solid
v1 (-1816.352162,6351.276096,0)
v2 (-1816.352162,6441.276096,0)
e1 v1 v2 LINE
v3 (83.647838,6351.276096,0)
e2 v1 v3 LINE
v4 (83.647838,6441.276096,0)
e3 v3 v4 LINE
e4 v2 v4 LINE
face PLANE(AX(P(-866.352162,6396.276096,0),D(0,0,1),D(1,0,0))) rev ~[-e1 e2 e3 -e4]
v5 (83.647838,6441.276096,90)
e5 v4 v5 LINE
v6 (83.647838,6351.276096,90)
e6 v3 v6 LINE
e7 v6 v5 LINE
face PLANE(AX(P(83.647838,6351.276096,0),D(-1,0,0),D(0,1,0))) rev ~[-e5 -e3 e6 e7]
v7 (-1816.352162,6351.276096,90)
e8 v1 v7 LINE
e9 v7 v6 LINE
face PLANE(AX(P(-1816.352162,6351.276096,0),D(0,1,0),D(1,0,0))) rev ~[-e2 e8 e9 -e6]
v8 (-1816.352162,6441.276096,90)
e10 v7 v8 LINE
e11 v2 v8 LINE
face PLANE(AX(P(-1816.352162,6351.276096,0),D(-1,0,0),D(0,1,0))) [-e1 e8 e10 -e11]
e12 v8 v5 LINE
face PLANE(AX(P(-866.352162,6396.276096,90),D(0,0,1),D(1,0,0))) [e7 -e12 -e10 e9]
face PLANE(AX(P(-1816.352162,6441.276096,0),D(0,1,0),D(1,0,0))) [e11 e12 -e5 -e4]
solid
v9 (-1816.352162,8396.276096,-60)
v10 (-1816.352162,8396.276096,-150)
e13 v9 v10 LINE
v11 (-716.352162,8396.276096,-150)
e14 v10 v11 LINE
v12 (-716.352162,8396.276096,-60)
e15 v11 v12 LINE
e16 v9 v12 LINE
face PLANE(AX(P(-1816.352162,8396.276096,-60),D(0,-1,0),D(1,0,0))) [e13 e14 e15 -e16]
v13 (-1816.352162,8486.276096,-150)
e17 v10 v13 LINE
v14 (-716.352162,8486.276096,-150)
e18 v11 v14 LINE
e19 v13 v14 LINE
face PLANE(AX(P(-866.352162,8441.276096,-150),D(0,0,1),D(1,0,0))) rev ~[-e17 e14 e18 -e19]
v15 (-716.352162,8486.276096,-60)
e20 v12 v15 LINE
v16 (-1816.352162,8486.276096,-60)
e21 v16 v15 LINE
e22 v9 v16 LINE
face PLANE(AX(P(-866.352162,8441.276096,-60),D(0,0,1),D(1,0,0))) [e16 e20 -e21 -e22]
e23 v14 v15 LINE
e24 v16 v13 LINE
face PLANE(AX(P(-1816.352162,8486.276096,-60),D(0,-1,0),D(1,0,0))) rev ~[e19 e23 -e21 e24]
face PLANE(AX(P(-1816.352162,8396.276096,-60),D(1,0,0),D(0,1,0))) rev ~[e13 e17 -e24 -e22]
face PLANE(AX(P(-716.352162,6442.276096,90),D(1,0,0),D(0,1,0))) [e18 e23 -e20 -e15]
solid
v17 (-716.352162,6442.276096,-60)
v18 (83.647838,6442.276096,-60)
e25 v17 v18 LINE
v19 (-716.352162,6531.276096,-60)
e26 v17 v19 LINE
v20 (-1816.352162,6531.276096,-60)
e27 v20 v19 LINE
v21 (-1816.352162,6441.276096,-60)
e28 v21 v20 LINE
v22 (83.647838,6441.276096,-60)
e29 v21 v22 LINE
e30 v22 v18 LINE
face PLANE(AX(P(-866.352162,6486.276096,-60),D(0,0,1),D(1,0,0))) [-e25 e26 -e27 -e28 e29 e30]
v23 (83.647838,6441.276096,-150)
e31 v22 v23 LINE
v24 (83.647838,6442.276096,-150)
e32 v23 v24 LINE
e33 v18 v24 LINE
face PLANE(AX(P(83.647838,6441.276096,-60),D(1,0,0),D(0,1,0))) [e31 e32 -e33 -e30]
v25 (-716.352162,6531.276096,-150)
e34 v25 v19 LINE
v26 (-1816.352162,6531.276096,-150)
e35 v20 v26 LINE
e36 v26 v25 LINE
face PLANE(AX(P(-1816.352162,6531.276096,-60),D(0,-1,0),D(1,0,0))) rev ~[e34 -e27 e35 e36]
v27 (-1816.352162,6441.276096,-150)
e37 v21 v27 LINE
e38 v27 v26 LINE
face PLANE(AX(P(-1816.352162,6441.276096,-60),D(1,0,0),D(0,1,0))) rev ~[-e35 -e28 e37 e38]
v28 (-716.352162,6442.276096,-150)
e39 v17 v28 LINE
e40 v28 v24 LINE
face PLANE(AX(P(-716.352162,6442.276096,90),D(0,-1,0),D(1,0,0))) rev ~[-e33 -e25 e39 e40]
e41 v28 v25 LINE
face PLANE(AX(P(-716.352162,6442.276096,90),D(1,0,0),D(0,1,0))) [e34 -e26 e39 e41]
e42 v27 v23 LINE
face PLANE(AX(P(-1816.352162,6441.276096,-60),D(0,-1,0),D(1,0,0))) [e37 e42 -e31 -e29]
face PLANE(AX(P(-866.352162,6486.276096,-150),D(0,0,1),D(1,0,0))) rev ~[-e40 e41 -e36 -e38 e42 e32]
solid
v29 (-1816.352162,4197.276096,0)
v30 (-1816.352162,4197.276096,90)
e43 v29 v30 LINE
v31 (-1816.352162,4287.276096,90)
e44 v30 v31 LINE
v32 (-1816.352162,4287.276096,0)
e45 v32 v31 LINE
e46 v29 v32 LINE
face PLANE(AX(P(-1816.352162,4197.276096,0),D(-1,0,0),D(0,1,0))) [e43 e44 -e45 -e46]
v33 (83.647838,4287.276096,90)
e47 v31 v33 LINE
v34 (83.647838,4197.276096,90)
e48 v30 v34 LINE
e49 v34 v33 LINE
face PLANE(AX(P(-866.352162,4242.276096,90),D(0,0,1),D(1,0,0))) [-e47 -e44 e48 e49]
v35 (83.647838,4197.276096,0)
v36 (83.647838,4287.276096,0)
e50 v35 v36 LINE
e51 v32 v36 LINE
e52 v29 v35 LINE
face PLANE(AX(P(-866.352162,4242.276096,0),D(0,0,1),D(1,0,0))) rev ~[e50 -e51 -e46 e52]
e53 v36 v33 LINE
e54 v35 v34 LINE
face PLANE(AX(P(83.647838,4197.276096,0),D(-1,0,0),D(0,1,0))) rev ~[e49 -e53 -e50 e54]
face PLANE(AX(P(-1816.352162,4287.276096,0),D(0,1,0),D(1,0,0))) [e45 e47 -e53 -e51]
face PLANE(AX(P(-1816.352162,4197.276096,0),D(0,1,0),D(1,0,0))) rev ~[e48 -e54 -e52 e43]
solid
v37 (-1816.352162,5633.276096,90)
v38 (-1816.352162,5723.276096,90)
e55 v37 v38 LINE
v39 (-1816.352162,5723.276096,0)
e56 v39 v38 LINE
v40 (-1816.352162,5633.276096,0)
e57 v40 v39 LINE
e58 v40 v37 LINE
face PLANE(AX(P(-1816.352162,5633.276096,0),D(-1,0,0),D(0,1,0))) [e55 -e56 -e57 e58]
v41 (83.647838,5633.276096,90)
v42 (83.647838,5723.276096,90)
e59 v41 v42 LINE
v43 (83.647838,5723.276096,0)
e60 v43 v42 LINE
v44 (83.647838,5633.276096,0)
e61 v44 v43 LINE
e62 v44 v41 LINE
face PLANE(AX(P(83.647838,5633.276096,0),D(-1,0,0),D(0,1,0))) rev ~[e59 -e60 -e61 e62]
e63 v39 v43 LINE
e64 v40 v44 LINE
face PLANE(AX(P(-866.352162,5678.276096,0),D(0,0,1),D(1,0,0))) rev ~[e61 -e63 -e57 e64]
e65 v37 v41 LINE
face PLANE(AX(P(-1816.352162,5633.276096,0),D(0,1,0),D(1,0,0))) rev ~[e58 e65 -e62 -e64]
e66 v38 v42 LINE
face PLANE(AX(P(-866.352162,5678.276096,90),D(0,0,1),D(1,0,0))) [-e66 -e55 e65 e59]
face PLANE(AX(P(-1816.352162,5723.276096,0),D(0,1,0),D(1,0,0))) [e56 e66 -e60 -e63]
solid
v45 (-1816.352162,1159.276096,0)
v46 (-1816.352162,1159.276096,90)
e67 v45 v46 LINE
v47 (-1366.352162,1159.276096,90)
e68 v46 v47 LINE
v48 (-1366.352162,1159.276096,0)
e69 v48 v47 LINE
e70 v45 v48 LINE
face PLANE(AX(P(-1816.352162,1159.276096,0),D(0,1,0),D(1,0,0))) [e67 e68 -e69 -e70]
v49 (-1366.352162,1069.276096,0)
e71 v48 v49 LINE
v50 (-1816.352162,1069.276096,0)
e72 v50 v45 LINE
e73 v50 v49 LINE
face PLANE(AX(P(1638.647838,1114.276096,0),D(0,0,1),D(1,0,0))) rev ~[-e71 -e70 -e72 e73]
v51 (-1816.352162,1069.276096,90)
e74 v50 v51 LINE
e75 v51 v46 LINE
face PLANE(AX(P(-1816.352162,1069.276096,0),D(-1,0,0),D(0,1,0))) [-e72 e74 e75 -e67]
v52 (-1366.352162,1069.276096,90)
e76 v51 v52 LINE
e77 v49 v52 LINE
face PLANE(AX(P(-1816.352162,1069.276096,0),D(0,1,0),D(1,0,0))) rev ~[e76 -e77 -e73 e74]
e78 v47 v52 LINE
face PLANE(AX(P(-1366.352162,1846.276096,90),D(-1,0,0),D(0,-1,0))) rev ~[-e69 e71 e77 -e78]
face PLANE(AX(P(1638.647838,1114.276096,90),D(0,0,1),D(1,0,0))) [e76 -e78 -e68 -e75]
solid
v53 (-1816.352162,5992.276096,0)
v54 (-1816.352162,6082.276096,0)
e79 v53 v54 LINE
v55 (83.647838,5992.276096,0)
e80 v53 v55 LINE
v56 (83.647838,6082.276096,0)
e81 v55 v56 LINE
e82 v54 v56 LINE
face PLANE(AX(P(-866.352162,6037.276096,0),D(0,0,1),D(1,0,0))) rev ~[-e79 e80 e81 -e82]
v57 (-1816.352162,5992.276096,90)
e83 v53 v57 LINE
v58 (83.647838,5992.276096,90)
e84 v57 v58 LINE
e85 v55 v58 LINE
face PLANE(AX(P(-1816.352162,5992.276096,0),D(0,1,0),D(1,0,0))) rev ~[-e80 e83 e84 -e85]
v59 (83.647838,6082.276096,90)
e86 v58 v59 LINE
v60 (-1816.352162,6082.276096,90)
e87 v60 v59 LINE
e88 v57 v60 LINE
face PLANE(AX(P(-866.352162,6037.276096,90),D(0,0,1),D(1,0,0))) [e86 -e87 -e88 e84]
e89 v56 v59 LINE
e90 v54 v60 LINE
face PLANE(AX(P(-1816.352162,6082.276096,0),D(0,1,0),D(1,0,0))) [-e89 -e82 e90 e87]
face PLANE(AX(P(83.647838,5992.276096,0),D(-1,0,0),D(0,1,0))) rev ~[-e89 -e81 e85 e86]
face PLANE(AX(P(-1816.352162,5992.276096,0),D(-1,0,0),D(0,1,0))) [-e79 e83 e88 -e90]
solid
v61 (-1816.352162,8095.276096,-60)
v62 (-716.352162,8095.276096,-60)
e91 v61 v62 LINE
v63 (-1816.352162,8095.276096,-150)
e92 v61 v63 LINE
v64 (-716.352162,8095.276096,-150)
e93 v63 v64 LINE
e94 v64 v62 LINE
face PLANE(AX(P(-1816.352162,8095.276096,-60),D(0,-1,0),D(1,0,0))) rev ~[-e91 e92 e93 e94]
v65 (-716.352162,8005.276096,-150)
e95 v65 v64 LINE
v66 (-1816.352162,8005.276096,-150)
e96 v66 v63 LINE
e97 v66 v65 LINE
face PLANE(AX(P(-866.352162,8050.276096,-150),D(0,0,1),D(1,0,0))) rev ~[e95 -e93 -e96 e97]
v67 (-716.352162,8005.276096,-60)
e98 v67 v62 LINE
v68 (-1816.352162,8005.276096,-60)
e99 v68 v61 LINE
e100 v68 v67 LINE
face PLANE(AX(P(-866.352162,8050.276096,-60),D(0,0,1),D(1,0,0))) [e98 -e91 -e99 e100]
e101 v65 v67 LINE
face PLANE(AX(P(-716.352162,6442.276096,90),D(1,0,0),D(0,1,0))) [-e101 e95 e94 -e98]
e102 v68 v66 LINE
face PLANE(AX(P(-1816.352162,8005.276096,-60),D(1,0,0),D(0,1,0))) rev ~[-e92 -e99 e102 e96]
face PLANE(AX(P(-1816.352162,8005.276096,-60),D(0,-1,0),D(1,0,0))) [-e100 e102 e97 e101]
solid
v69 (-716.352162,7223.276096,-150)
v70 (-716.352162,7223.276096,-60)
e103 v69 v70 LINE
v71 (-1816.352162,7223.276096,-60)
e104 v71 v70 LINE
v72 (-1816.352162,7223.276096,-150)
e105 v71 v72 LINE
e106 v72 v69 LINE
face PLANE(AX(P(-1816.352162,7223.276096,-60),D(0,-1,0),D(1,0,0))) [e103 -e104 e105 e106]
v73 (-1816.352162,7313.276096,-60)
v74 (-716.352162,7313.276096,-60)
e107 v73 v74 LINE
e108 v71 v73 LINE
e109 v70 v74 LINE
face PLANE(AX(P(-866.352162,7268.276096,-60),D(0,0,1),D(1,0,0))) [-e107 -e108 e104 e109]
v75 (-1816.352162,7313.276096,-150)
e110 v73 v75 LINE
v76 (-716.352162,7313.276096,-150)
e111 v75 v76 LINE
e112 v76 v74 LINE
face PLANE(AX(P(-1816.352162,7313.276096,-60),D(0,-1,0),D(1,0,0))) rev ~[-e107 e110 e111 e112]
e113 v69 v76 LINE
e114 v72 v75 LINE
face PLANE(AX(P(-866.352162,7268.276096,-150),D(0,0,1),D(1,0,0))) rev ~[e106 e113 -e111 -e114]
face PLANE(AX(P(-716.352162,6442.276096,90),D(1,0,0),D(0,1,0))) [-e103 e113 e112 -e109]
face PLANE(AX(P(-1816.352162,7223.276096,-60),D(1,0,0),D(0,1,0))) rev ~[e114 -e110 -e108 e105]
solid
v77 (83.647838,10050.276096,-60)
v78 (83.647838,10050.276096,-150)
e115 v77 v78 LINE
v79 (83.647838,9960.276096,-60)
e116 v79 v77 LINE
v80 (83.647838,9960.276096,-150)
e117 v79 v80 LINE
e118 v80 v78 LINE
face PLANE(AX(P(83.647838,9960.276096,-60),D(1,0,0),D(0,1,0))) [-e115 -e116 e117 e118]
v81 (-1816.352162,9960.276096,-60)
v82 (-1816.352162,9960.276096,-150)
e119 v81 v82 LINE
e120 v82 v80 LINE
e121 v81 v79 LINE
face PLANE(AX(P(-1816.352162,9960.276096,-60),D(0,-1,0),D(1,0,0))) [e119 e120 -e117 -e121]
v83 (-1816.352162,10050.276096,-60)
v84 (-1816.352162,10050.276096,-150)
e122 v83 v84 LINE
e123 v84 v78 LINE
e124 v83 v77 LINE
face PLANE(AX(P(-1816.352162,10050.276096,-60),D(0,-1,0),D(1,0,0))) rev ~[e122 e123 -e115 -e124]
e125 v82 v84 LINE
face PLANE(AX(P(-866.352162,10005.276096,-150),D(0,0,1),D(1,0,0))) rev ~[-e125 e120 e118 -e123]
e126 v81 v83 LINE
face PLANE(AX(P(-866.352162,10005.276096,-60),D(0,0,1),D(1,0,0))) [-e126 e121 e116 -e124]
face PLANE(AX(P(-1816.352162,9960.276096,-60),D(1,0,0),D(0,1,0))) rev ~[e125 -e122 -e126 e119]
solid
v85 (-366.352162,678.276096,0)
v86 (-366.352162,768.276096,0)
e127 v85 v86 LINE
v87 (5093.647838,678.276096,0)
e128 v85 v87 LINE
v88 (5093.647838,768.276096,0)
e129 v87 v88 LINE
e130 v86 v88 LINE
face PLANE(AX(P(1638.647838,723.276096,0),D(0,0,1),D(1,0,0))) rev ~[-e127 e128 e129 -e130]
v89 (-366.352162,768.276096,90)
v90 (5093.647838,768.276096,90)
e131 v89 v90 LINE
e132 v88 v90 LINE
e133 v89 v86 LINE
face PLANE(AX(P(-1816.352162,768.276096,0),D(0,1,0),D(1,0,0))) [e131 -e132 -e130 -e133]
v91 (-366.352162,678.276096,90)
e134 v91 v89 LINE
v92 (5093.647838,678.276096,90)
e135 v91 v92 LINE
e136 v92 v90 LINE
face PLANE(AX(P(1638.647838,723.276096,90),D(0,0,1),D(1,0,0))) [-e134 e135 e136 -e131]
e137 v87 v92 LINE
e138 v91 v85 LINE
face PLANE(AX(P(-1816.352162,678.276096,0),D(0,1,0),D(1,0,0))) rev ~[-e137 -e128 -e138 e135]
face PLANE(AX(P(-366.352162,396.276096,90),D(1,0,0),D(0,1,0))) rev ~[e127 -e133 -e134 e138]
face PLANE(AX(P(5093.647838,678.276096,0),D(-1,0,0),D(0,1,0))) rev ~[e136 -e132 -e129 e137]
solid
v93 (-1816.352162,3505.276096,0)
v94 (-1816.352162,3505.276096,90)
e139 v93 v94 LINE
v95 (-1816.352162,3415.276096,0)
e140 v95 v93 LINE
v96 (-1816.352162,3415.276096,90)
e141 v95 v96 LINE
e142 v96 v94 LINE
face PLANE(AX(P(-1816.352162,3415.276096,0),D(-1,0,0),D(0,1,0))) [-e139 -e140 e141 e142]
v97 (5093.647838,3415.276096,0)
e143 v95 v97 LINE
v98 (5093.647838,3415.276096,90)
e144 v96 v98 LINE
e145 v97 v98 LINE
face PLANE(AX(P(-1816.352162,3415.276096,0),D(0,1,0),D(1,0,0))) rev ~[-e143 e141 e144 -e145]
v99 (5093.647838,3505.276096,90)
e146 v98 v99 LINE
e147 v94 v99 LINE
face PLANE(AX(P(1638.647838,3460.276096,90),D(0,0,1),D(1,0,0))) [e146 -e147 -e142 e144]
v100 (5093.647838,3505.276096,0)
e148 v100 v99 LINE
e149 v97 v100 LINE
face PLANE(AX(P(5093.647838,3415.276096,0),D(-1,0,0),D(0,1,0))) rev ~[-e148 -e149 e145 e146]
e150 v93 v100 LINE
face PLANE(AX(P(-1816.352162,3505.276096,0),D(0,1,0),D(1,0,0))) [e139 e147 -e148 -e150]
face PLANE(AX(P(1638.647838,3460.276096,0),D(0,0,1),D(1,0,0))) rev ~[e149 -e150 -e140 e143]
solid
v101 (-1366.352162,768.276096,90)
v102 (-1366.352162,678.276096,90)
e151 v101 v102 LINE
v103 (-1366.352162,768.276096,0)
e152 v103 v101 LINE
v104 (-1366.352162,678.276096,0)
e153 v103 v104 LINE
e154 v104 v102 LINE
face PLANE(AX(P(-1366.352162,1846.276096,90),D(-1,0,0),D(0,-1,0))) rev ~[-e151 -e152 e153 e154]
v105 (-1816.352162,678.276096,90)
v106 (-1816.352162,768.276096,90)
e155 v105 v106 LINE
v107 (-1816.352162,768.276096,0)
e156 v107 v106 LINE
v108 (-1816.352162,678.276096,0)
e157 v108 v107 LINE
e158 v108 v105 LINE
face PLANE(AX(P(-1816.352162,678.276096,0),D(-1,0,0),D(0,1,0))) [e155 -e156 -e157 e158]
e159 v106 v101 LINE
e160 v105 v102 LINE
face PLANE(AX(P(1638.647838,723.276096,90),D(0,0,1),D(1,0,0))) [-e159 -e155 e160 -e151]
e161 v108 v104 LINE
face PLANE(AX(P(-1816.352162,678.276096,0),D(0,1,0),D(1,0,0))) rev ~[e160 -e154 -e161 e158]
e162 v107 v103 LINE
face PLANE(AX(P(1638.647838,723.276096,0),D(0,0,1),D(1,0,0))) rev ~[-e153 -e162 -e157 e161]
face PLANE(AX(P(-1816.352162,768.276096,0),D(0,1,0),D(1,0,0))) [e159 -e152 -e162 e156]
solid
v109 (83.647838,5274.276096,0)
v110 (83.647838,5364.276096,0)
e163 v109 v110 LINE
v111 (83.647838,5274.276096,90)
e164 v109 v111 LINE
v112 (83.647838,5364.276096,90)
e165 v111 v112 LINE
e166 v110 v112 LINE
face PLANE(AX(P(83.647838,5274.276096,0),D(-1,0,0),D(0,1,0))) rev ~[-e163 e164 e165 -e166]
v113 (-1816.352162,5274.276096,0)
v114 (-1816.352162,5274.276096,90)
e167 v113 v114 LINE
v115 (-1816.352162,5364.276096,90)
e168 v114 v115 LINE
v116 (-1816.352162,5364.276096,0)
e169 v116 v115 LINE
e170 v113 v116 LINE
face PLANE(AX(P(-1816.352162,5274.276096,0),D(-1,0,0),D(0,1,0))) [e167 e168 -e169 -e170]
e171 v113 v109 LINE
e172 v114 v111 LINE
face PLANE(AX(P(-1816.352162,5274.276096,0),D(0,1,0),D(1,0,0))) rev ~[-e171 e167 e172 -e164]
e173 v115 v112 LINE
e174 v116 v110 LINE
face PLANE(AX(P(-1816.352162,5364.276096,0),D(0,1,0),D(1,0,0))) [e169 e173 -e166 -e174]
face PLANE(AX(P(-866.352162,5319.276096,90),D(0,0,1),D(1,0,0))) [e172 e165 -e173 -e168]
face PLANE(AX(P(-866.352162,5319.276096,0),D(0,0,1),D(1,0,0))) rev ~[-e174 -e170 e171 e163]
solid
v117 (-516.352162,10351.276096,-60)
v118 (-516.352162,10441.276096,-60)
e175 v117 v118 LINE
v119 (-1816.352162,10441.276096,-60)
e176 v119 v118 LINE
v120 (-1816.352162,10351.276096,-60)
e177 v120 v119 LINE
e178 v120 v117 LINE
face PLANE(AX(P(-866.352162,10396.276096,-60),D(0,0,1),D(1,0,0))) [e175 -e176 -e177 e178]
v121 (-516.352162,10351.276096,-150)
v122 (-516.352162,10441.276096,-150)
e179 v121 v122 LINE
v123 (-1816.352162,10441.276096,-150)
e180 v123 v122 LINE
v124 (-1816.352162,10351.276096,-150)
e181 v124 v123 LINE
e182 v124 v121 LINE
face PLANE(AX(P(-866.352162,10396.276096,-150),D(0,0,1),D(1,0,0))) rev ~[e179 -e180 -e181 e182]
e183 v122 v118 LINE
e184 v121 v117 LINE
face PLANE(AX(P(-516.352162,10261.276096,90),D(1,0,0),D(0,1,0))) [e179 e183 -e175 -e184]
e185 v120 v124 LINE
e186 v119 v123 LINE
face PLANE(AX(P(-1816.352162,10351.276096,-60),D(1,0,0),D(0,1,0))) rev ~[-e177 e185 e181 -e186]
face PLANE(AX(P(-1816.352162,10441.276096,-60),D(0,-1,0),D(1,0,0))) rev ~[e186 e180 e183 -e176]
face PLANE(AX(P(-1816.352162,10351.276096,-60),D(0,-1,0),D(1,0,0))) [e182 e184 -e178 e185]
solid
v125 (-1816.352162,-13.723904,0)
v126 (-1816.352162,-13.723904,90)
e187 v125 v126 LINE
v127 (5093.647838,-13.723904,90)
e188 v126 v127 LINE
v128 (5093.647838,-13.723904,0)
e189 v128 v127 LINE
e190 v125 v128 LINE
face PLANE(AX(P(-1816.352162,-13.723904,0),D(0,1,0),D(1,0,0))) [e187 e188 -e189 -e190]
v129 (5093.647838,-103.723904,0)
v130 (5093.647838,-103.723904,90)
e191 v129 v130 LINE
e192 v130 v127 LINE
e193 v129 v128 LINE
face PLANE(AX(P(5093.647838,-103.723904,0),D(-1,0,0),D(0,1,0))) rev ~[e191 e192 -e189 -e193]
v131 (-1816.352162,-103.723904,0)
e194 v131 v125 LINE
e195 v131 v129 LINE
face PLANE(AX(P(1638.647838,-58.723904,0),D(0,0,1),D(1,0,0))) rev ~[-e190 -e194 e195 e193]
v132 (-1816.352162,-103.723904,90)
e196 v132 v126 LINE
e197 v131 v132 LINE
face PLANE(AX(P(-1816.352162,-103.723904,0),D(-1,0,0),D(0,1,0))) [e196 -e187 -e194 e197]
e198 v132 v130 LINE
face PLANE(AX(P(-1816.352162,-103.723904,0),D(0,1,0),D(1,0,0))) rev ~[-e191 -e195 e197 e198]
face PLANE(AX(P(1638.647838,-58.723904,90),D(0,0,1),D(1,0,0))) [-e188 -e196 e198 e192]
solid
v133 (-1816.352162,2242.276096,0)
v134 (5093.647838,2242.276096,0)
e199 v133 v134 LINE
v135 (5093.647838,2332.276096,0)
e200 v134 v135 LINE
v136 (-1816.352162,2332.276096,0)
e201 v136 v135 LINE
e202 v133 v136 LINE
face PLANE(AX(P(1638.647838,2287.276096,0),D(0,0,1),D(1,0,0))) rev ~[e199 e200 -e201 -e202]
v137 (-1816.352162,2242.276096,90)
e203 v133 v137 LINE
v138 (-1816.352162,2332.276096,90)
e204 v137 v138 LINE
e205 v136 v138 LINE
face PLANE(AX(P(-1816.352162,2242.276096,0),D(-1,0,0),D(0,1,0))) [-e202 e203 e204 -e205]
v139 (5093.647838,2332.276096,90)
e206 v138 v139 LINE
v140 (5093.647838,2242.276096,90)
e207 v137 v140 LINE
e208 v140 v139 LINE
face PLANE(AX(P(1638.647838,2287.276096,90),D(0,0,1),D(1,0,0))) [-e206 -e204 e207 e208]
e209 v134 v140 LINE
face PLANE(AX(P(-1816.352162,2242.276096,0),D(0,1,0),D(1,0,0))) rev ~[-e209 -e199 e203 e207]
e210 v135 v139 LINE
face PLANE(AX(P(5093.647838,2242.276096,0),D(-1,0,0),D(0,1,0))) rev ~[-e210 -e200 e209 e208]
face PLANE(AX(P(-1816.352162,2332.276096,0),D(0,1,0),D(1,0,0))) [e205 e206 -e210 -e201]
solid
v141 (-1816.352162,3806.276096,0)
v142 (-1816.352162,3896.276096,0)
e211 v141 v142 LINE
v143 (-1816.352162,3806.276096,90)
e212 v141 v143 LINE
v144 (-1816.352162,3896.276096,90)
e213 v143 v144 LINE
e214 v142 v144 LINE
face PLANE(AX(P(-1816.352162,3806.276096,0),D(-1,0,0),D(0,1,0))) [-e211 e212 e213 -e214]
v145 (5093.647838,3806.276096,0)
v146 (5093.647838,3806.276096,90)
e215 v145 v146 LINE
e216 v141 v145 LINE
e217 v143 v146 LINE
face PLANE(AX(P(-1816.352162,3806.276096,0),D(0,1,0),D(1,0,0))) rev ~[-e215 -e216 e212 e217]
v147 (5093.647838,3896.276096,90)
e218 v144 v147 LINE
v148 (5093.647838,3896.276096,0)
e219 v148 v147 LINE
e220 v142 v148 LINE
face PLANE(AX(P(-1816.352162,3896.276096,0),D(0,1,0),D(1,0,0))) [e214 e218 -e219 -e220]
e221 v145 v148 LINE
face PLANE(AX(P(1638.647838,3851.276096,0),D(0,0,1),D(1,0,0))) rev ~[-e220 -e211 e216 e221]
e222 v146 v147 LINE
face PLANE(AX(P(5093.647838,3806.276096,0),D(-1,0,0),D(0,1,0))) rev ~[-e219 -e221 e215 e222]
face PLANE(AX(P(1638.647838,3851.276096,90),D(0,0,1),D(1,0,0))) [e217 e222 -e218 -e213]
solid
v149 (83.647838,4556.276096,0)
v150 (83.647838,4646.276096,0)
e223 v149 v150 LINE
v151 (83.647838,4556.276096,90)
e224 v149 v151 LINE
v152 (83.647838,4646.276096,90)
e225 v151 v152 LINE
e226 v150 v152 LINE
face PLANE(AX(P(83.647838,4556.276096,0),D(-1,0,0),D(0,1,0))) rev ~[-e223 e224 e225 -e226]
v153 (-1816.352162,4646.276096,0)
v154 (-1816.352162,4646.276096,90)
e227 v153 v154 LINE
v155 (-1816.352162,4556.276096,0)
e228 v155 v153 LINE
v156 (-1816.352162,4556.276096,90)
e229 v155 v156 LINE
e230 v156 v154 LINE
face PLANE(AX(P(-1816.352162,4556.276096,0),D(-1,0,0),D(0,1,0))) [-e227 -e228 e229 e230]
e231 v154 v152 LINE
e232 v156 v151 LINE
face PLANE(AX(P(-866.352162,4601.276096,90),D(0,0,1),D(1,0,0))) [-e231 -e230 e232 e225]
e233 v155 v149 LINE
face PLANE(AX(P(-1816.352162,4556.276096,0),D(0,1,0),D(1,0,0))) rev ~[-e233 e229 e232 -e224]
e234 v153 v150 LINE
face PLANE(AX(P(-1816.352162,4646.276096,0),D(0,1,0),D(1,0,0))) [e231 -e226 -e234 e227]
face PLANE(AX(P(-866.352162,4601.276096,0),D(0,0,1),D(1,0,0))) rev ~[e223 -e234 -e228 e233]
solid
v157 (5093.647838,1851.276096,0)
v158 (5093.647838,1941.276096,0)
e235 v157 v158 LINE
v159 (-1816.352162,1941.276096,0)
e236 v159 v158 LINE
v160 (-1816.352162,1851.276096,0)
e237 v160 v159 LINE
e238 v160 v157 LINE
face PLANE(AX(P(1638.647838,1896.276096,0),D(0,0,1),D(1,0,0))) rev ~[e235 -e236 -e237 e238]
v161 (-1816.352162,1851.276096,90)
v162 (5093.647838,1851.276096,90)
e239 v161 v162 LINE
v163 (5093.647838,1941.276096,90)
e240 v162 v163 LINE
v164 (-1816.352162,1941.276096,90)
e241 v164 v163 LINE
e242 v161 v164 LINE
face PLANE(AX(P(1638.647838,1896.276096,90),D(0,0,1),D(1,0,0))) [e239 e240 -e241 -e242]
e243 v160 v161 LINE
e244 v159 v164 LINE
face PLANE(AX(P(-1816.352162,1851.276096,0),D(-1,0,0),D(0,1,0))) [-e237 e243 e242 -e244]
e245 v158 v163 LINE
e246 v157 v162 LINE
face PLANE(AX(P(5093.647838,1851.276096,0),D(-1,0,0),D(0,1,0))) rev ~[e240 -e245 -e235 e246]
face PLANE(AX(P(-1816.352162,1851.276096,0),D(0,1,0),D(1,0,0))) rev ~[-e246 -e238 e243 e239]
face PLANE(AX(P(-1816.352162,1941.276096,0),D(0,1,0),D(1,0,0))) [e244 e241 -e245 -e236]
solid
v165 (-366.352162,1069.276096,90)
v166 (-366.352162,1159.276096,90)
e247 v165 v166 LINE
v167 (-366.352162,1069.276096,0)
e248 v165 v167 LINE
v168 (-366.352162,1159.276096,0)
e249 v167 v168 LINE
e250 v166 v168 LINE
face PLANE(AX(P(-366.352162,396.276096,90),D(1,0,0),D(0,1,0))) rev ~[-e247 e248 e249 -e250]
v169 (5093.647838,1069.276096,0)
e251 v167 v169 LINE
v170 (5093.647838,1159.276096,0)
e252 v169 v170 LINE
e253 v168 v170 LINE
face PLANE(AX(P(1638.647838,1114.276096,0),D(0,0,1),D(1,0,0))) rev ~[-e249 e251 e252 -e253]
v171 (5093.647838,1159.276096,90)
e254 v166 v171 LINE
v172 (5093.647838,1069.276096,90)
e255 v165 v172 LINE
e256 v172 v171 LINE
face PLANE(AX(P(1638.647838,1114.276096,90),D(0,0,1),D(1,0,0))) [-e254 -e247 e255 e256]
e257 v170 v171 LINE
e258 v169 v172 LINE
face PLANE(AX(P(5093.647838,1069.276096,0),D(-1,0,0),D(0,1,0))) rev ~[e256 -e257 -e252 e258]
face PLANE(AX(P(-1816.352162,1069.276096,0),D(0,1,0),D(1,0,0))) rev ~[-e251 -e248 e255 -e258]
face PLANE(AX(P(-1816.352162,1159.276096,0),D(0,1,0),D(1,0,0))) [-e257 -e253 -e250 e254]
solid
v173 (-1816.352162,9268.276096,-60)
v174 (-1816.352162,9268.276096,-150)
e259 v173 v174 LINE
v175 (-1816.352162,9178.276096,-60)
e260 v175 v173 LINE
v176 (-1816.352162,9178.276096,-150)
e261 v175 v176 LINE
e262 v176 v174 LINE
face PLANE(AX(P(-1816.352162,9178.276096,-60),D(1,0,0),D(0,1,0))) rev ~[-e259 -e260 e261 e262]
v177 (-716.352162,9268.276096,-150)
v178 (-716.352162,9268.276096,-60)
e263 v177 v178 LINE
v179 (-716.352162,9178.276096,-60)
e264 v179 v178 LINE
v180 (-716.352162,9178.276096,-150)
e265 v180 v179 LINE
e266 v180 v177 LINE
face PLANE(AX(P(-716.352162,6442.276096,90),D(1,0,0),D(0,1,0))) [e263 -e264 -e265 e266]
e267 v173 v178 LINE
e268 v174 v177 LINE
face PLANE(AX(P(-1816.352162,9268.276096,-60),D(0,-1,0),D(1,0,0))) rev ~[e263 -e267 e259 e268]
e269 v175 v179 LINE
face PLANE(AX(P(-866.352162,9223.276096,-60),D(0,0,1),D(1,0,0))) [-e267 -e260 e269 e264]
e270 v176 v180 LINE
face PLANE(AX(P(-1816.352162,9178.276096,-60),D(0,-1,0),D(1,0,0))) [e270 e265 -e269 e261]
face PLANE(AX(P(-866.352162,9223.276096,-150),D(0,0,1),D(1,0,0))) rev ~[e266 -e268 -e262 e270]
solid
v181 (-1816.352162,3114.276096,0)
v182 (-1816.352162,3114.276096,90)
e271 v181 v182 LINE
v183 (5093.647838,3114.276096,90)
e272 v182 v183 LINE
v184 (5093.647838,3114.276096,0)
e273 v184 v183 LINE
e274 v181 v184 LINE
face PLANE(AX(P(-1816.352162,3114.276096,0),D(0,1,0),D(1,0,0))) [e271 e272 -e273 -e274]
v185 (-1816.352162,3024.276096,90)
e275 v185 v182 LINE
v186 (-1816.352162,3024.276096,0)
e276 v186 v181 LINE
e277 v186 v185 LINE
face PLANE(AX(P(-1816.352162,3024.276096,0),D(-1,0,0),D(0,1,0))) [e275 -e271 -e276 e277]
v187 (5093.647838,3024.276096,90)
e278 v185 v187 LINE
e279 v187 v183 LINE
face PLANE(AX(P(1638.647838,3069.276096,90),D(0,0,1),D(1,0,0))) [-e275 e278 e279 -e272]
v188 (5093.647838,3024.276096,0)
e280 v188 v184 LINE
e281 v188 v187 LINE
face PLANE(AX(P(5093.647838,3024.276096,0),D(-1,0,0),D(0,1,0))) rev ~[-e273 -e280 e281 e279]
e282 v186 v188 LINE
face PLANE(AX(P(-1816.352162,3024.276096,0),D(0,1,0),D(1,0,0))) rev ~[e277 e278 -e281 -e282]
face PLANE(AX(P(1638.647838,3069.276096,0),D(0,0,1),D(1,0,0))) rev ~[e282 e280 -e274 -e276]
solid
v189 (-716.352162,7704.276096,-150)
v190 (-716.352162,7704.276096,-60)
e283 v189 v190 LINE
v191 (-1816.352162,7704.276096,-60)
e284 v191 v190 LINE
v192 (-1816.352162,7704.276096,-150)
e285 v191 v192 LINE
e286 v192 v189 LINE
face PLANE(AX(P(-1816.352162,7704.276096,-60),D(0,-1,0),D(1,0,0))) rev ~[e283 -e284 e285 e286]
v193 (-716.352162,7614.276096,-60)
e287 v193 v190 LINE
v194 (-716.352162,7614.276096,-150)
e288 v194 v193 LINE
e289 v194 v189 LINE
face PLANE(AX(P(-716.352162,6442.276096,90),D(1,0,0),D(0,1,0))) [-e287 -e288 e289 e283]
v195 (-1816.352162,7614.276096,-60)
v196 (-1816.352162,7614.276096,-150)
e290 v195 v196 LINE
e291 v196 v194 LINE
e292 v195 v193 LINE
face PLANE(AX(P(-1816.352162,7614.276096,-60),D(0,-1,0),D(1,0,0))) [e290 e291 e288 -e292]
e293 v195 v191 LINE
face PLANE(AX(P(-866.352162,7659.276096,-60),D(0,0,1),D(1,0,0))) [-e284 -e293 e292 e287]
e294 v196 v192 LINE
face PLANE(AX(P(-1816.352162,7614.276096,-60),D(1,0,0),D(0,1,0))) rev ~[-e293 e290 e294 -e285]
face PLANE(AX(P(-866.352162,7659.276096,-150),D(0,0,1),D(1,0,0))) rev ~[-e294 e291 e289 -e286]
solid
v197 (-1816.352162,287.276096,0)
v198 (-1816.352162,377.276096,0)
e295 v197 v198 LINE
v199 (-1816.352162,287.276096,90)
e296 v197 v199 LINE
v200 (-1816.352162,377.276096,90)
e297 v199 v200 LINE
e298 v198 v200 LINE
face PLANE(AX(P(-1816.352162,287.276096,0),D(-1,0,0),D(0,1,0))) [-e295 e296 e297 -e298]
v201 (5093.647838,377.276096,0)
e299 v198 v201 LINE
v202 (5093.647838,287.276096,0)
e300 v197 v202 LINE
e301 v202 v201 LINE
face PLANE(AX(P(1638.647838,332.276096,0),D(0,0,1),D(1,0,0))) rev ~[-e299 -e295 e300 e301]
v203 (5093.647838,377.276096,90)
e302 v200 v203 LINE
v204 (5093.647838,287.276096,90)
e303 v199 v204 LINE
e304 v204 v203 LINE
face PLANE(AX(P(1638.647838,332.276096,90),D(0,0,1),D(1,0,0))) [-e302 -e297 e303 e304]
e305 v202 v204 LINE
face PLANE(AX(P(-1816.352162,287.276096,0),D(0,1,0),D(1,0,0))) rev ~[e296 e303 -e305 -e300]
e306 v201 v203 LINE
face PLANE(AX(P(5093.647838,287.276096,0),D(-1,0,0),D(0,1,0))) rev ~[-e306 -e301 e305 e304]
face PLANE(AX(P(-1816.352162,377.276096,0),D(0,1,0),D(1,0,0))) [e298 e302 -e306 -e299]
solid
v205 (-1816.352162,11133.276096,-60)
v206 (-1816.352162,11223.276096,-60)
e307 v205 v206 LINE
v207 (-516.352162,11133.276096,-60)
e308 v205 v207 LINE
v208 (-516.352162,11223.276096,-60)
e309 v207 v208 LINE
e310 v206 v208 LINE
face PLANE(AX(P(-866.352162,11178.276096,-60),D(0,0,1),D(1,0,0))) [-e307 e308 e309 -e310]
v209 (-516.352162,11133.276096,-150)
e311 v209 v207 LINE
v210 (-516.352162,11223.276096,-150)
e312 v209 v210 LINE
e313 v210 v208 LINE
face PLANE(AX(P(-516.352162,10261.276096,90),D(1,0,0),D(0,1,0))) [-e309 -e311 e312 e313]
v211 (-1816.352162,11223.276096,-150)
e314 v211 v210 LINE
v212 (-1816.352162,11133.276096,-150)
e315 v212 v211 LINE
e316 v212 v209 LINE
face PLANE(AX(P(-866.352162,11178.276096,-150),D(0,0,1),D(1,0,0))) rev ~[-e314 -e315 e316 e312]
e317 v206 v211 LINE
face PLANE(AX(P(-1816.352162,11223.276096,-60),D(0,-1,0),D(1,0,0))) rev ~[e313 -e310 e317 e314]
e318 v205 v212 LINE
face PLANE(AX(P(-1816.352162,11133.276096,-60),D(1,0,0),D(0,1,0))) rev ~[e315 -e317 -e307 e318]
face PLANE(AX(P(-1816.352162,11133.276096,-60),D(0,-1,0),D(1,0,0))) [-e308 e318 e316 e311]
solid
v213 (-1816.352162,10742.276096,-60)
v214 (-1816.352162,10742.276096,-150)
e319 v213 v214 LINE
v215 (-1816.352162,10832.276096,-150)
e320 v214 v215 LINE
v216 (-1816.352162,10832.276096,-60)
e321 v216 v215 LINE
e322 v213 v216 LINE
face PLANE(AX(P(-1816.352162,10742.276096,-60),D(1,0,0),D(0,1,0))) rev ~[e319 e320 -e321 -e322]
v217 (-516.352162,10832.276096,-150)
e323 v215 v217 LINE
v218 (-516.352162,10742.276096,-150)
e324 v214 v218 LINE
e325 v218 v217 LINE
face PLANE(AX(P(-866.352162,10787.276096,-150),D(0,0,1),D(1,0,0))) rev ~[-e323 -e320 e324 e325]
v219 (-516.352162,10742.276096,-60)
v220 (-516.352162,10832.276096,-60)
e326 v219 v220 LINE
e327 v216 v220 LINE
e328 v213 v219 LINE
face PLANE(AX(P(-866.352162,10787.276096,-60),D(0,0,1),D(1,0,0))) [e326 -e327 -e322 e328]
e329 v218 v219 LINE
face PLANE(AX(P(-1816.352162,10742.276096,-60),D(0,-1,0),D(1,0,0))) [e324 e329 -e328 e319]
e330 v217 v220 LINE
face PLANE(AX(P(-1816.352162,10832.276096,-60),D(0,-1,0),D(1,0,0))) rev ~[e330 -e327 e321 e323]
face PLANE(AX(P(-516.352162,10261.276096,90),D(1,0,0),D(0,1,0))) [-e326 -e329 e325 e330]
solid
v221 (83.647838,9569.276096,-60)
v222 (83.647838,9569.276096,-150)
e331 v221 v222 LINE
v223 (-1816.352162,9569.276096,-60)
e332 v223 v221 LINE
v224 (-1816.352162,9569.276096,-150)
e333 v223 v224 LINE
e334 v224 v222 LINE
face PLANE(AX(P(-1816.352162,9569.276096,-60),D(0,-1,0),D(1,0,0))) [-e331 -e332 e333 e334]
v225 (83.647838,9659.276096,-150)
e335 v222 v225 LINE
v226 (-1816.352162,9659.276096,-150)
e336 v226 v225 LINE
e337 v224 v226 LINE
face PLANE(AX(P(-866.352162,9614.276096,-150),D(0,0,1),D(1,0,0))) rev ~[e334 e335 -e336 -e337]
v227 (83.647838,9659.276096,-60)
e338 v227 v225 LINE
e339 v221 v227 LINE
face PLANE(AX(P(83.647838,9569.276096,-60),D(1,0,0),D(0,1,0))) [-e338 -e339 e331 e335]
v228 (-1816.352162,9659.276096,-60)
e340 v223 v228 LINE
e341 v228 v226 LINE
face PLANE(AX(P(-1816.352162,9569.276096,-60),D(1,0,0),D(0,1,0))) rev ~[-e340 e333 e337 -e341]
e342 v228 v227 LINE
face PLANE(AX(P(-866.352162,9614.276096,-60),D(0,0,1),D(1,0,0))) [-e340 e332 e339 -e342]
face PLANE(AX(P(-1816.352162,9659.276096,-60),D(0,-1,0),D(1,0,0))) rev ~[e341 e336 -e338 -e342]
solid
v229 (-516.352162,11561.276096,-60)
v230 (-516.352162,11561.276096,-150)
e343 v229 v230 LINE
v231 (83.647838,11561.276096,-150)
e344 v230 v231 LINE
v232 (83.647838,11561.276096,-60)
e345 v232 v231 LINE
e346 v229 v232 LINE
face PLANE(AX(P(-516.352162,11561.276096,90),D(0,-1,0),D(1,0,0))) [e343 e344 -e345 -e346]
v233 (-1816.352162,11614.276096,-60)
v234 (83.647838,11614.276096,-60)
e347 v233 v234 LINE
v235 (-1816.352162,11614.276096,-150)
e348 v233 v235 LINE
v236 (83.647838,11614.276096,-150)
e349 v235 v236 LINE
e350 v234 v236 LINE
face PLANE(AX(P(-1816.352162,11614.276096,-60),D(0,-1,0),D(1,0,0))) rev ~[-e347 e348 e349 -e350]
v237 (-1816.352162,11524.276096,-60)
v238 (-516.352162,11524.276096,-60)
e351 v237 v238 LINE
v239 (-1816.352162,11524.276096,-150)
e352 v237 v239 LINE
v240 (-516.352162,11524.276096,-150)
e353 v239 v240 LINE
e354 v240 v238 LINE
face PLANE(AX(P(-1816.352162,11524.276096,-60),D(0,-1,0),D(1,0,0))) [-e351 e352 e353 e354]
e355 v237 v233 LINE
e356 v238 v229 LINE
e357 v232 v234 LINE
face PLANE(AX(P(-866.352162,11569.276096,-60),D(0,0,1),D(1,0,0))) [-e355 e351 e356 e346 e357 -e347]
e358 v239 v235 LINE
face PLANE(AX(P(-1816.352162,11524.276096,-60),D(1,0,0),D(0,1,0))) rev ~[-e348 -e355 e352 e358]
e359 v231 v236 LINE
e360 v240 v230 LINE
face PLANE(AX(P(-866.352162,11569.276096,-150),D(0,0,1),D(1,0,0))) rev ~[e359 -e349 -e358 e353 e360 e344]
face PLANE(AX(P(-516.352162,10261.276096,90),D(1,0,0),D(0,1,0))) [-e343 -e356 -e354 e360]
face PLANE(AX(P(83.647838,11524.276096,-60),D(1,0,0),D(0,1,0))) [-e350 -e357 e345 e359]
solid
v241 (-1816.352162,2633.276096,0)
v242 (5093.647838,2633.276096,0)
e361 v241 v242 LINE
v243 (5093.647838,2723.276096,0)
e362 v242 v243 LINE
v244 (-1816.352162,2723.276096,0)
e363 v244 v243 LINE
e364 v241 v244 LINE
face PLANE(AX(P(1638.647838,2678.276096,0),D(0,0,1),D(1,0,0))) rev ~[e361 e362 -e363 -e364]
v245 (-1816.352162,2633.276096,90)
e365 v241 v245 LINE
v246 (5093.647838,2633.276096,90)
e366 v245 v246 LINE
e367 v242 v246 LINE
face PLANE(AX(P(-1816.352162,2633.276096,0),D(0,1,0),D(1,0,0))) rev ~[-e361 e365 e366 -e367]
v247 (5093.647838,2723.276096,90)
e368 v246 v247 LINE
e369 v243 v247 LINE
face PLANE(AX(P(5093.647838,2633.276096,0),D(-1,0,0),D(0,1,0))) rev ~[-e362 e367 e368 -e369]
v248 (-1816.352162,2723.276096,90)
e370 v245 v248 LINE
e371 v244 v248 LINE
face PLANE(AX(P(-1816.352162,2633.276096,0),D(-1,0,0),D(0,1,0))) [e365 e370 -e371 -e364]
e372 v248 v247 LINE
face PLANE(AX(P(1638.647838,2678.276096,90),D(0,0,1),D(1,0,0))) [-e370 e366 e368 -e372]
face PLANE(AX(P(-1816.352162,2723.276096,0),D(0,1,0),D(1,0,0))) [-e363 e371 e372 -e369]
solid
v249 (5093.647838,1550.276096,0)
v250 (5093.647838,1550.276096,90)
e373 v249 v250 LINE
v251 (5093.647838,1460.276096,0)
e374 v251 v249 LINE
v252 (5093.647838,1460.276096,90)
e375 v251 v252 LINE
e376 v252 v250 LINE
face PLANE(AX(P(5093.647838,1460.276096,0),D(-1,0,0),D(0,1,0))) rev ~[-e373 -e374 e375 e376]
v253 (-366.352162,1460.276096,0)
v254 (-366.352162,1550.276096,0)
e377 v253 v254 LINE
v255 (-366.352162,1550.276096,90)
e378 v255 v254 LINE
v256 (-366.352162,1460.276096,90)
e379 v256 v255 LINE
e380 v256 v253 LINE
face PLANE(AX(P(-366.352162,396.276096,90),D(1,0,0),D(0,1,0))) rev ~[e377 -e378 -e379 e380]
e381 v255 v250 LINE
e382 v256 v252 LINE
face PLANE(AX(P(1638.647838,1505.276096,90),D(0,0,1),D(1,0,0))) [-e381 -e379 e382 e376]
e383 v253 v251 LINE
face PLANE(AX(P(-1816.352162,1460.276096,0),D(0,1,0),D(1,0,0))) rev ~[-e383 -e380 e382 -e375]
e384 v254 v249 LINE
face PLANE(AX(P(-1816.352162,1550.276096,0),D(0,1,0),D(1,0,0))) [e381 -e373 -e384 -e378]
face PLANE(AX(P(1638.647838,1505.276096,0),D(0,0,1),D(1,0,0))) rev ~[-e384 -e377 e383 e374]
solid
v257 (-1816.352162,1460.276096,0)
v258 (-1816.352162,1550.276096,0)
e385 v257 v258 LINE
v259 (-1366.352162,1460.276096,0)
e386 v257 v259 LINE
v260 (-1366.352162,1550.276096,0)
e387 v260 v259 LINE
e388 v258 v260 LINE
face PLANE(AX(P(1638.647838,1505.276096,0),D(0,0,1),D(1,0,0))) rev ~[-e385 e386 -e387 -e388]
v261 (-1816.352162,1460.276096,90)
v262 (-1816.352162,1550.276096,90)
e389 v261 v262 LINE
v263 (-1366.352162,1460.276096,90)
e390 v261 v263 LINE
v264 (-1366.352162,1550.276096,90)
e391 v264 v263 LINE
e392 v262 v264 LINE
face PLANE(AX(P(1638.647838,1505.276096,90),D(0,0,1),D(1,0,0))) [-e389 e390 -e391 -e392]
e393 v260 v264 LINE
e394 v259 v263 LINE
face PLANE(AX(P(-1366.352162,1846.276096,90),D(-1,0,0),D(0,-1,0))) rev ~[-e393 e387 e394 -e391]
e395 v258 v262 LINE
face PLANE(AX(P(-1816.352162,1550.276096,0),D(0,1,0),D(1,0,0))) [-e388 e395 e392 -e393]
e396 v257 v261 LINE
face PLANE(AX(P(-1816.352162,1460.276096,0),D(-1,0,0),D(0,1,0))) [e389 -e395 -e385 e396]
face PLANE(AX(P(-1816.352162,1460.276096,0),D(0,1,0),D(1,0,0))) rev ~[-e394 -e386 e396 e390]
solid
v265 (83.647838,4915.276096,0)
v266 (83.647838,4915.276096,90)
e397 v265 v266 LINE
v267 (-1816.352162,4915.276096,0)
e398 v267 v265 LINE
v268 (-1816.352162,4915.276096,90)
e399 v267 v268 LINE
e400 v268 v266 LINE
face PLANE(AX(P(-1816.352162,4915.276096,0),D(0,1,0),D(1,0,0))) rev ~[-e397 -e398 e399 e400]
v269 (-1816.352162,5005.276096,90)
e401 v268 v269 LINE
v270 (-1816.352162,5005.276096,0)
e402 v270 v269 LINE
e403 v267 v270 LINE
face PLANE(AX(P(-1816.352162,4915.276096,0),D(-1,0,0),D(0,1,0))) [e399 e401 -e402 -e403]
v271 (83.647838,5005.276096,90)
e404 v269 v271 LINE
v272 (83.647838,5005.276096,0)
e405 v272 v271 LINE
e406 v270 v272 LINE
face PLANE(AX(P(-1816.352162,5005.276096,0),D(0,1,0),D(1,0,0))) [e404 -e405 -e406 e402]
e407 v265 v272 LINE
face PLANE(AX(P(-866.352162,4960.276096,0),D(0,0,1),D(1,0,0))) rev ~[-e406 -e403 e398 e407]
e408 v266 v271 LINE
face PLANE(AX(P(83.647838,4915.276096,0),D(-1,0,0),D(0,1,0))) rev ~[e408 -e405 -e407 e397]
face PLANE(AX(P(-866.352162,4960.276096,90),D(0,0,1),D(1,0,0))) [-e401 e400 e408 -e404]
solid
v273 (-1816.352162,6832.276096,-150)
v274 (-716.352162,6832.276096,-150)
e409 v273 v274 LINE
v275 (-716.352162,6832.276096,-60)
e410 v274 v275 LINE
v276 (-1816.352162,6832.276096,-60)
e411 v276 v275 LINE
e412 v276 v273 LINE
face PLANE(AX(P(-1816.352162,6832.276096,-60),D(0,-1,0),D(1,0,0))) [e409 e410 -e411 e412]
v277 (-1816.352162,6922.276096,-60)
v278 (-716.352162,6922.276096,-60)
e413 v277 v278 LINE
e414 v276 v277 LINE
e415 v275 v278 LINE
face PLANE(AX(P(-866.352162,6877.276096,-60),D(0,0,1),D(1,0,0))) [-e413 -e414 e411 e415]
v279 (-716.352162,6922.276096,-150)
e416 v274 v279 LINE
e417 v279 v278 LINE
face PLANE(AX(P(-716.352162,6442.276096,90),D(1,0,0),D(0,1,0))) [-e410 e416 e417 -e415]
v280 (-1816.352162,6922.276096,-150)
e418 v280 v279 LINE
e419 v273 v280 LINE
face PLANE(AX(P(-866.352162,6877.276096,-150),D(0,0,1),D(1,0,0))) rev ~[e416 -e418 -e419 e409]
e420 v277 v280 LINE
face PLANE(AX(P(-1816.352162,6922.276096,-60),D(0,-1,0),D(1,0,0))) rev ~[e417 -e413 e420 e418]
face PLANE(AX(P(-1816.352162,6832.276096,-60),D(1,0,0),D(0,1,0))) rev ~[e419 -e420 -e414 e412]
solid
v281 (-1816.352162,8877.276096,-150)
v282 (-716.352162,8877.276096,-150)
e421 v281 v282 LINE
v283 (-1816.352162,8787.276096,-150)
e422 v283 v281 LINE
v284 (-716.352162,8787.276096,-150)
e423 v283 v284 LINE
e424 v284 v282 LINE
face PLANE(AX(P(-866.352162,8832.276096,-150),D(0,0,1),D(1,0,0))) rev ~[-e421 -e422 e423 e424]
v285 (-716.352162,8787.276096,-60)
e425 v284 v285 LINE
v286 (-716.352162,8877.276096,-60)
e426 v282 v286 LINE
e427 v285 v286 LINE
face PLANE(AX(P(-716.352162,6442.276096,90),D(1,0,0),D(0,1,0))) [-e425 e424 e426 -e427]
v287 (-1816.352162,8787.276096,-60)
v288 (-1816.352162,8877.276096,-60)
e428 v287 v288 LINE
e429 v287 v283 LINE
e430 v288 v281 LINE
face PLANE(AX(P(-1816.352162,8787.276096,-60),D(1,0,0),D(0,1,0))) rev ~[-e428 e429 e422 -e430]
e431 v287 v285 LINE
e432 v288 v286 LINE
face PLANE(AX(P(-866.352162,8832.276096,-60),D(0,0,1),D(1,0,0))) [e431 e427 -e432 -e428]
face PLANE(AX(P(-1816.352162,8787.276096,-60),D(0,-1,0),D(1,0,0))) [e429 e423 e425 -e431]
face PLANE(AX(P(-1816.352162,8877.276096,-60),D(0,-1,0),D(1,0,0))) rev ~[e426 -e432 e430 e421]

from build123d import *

# Parameters (mm, degrees)
F0_W     = 1900
F0_H     = 90
F1_DEPTH = 90
F0_W_2   = 6910
F2_START = -60
F2_DEPTH = 90
F3_W     = 1000
F3_H     = 687
F3_H_2   = 673
F3_W_2   = 800
F3_H_3   = 3110
F3_W_3   = 600
F3_H_4   = 1300
F3_H_5   = 90
F4_DEPTH = 1000


with BuildPart() as f1:
    # F0 (on Top) → F1 (new body)
    with BuildSketch(Plane.XY):
        with Locations((-866.352162238, 6396.2760958672)):
            Rectangle(F0_W, F0_H)
    extrude(amount=F1_DEPTH)


with BuildPart() as f1b:
    # F0 (on Top) → F1, piece 2 (new body)
    with BuildSketch(Plane.XY):
        with Locations((-866.352162238, 6037.2760958672)):
            Rectangle(F0_W, F0_H)
    extrude(amount=F1_DEPTH)


with BuildPart() as f1c:
    # F0 (on Top) → F1, piece 3 (new body)
    with BuildSketch(Plane.XY):
        with Locations((-866.352162238, 5678.2760958672)):
            Rectangle(F0_W, F0_H)
    extrude(amount=F1_DEPTH)


with BuildPart() as f1d:
    # F0 (on Top) → F1, piece 4 (new body)
    with BuildSketch(Plane.XY):
        with Locations((-866.352162238, 5319.2760958672)):
            Rectangle(F0_W, F0_H)
    extrude(amount=F1_DEPTH)


with BuildPart() as f1e:
    # F0 (on Top) → F1, piece 5 (new body)
    with BuildSketch(Plane.XY):
        with Locations((-866.352162238, 4960.2760958672)):
            Rectangle(F0_W, F0_H)
    extrude(amount=F1_DEPTH)


with BuildPart() as f1f:
    # F0 (on Top) → F1, piece 6 (new body)
    with BuildSketch(Plane.XY):
        with Locations((-866.352162238, 4601.2760958672)):
            Rectangle(F0_W, F0_H)
    extrude(amount=F1_DEPTH)


with BuildPart() as f1g:
    # F0 (on Top) → F1, piece 7 (new body)
    with BuildSketch(Plane.XY):
        with Locations((-866.352162238, 4242.2760958672)):
            Rectangle(F0_W, F0_H)
    extrude(amount=F1_DEPTH)


with BuildPart() as f1h:
    # F0 (on Top) → F1, piece 8 (new body)
    with BuildSketch(Plane.XY):
        with Locations((1638.647837762, 3851.2760958672)):
            Rectangle(F0_W_2, F0_H)
    extrude(amount=F1_DEPTH)


with BuildPart() as f1i:
    # F0 (on Top) → F1, piece 9 (new body)
    with BuildSketch(Plane.XY):
        with Locations((1638.647837762, 3460.2760958672)):
            Rectangle(F0_W_2, F0_H)
    extrude(amount=F1_DEPTH)


with BuildPart() as f1j:
    # F0 (on Top) → F1, piece 10 (new body)
    with BuildSketch(Plane.XY):
        with Locations((1638.647837762, 3069.2760958672)):
            Rectangle(F0_W_2, F0_H)
    extrude(amount=F1_DEPTH)


with BuildPart() as f1k:
    # F0 (on Top) → F1, piece 11 (new body)
    with BuildSketch(Plane.XY):
        with Locations((1638.647837762, 2678.2760958672)):
            Rectangle(F0_W_2, F0_H)
    extrude(amount=F1_DEPTH)


with BuildPart() as f1l:
    # F0 (on Top) → F1, piece 12 (new body)
    with BuildSketch(Plane.XY):
        with Locations((1638.647837762, 2287.2760958672)):
            Rectangle(F0_W_2, F0_H)
    extrude(amount=F1_DEPTH)


with BuildPart() as f1m:
    # F0 (on Top) → F1, piece 13 (new body)
    with BuildSketch(Plane.XY):
        with Locations((1638.647837762, 1896.2760958672)):
            Rectangle(F0_W_2, F0_H)
    extrude(amount=F1_DEPTH)


with BuildPart() as f1n:
    # F0 (on Top) → F1, piece 14 (new body)
    with BuildSketch(Plane.XY):
        with Locations((1638.647837762, 1505.2760958672)):
            Rectangle(F0_W_2, F0_H)
    extrude(amount=F1_DEPTH)


with BuildPart() as f1o:
    # F0 (on Top) → F1, piece 15 (new body)
    with BuildSketch(Plane.XY):
        with Locations((1638.647837762, 1114.2760958672)):
            Rectangle(F0_W_2, F0_H)
    extrude(amount=F1_DEPTH)


with BuildPart() as f1p:
    # F0 (on Top) → F1, piece 16 (new body)
    with BuildSketch(Plane.XY):
        with Locations((1638.647837762, 723.2760958672)):
            Rectangle(F0_W_2, F0_H)
    extrude(amount=F1_DEPTH)


with BuildPart() as f1q:
    # F0 (on Top) → F1, piece 17 (new body)
    with BuildSketch(Plane.XY):
        with Locations((1638.647837762, 332.2760958672)):
            Rectangle(F0_W_2, F0_H)
    extrude(amount=F1_DEPTH)


with BuildPart() as f1r:
    # F0 (on Top) → F1, piece 18 (new body)
    with BuildSketch(Plane.XY):
        with Locations((1638.647837762, -58.7239041328)):
            Rectangle(F0_W_2, F0_H)
    extrude(amount=F1_DEPTH)


with BuildPart() as f2:
    # F0 (on Top) → F2 (new body)
    with BuildSketch(Plane.XY.offset(F2_START)):
        with Locations((-866.352162238, 6486.2760958672)):
            Rectangle(F0_W, F0_H)
    extrude(amount=-F2_DEPTH)


with BuildPart() as f2b:
    # F0 (on Top) → F2, piece 2 (new body)
    with BuildSketch(Plane.XY.offset(F2_START)):
        with Locations((-866.352162238, 6877.2760958672)):
            Rectangle(F0_W, F0_H)
    extrude(amount=-F2_DEPTH)


with BuildPart() as f2c:
    # F0 (on Top) → F2, piece 3 (new body)
    with BuildSketch(Plane.XY.offset(F2_START)):
        with Locations((-866.352162238, 7268.2760958672)):
            Rectangle(F0_W, F0_H)
    extrude(amount=-F2_DEPTH)


with BuildPart() as f2d:
    # F0 (on Top) → F2, piece 4 (new body)
    with BuildSketch(Plane.XY.offset(F2_START)):
        with Locations((-866.352162238, 7659.2760958672)):
            Rectangle(F0_W, F0_H)
    extrude(amount=-F2_DEPTH)


with BuildPart() as f2e:
    # F0 (on Top) → F2, piece 5 (new body)
    with BuildSketch(Plane.XY.offset(F2_START)):
        with Locations((-866.352162238, 8050.2760958672)):
            Rectangle(F0_W, F0_H)
    extrude(amount=-F2_DEPTH)


with BuildPart() as f2f:
    # F0 (on Top) → F2, piece 6 (new body)
    with BuildSketch(Plane.XY.offset(F2_START)):
        with Locations((-866.352162238, 8441.2760958672)):
            Rectangle(F0_W, F0_H)
    extrude(amount=-F2_DEPTH)


with BuildPart() as f2g:
    # F0 (on Top) → F2, piece 7 (new body)
    with BuildSketch(Plane.XY.offset(F2_START)):
        with Locations((-866.352162238, 8832.2760958672)):
            Rectangle(F0_W, F0_H)
    extrude(amount=-F2_DEPTH)


with BuildPart() as f2h:
    # F0 (on Top) → F2, piece 8 (new body)
    with BuildSketch(Plane.XY.offset(F2_START)):
        with Locations((-866.352162238, 9223.2760958672)):
            Rectangle(F0_W, F0_H)
    extrude(amount=-F2_DEPTH)


with BuildPart() as f2i:
    # F0 (on Top) → F2, piece 9 (new body)
    with BuildSketch(Plane.XY.offset(F2_START)):
        with Locations((-866.352162238, 9614.2760958672)):
            Rectangle(F0_W, F0_H)
    extrude(amount=-F2_DEPTH)


with BuildPart() as f2j:
    # F0 (on Top) → F2, piece 10 (new body)
    with BuildSketch(Plane.XY.offset(F2_START)):
        with Locations((-866.352162238, 10005.2760958672)):
            Rectangle(F0_W, F0_H)
    extrude(amount=-F2_DEPTH)


with BuildPart() as f2k:
    # F0 (on Top) → F2, piece 11 (new body)
    with BuildSketch(Plane.XY.offset(F2_START)):
        with Locations((-866.352162238, 10396.2760958672)):
            Rectangle(F0_W, F0_H)
    extrude(amount=-F2_DEPTH)


with BuildPart() as f2l:
    # F0 (on Top) → F2, piece 12 (new body)
    with BuildSketch(Plane.XY.offset(F2_START)):
        with Locations((-866.352162238, 10787.2760958672)):
            Rectangle(F0_W, F0_H)
    extrude(amount=-F2_DEPTH)


with BuildPart() as f2m:
    # F0 (on Top) → F2, piece 13 (new body)
    with BuildSketch(Plane.XY.offset(F2_START)):
        with Locations((-866.352162238, 11178.2760958672)):
            Rectangle(F0_W, F0_H)
    extrude(amount=-F2_DEPTH)


with BuildPart() as f2n:
    # F0 (on Top) → F2, piece 14 (new body)
    with BuildSketch(Plane.XY.offset(F2_START)):
        with Locations((-866.352162238, 11569.2760958672)):
            Rectangle(F0_W, F0_H)
    extrude(amount=-F2_DEPTH)


with BuildPart() as f4_tool:
    # F3 (on face) → F4 (new body)
    with BuildSketch(Plane.XY.offset(90)):
        with Locations((-866.352162238, 1502.7760958672)):
            Rectangle(F3_W, F3_H)
        with Locations((-866.352162238, 732.7760958672)):
            Rectangle(F3_W, F3_H_2)
        with Locations((-316.352162238, 7997.2760958672)):
            Rectangle(F3_W_2, F3_H_3)
        with Locations((-216.352162238, 10911.2760958672)):
            Rectangle(F3_W_3, F3_H_4)
        with Locations((-866.352162238, 1114.2760958672)):
            Rectangle(F3_W, F3_H_5)
    extrude(amount=-F4_DEPTH)


with BuildPart() as f1n_1:
    add(f1n.part)

    # F4: cut by f4_tool
    add(f4_tool.part, mode=Mode.SUBTRACT)


with BuildPart() as f1o_1:
    add(f1o.part)

    # F4: cut by f4_tool
    add(f4_tool.part, mode=Mode.SUBTRACT)


with BuildPart() as f1p_1:
    add(f1p.part)

    # F4: cut by f4_tool
    add(f4_tool.part, mode=Mode.SUBTRACT)


with BuildPart() as f2_1:
    add(f2.part)

    # F4: cut by f4_tool
    add(f4_tool.part, mode=Mode.SUBTRACT)


with BuildPart() as f2b_1:
    add(f2b.part)

    # F4: cut by f4_tool
    add(f4_tool.part, mode=Mode.SUBTRACT)


with BuildPart() as f2c_1:
    add(f2c.part)

    # F4: cut by f4_tool
    add(f4_tool.part, mode=Mode.SUBTRACT)


with BuildPart() as f2d_1:
    add(f2d.part)

    # F4: cut by f4_tool
    add(f4_tool.part, mode=Mode.SUBTRACT)


with BuildPart() as f2e_1:
    add(f2e.part)

    # F4: cut by f4_tool
    add(f4_tool.part, mode=Mode.SUBTRACT)


with BuildPart() as f2f_1:
    add(f2f.part)

    # F4: cut by f4_tool
    add(f4_tool.part, mode=Mode.SUBTRACT)


with BuildPart() as f2g_1:
    add(f2g.part)

    # F4: cut by f4_tool
    add(f4_tool.part, mode=Mode.SUBTRACT)


with BuildPart() as f2h_1:
    add(f2h.part)

    # F4: cut by f4_tool
    add(f4_tool.part, mode=Mode.SUBTRACT)


with BuildPart() as f2k_1:
    add(f2k.part)

    # F4: cut by f4_tool
    add(f4_tool.part, mode=Mode.SUBTRACT)


with BuildPart() as f2l_1:
    add(f2l.part)

    # F4: cut by f4_tool
    add(f4_tool.part, mode=Mode.SUBTRACT)


with BuildPart() as f2m_1:
    add(f2m.part)

    # F4: cut by f4_tool
    add(f4_tool.part, mode=Mode.SUBTRACT)


with BuildPart() as f2n_1:
    add(f2n.part)

    # F4: cut by f4_tool
    add(f4_tool.part, mode=Mode.SUBTRACT)


solid = Compound([f1.part, f1b.part, f1c.part, f1d.part, f1e.part, f1f.part, f1g.part, f1h.part, f1i.part, f1j.part, f1k.part, f1l.part, f1m.part, f1q.part, f1r.part, f2i.part, f2j.part, f1n_1.part, f1o_1.part, f1p_1.part, f2_1.part, f2b_1.part, f2c_1.part, f2d_1.part, f2e_1.part, f2f_1.part, f2g_1.part, f2h_1.part, f2k_1.part, f2l_1.part, f2m_1.part, f2n_1.part])
